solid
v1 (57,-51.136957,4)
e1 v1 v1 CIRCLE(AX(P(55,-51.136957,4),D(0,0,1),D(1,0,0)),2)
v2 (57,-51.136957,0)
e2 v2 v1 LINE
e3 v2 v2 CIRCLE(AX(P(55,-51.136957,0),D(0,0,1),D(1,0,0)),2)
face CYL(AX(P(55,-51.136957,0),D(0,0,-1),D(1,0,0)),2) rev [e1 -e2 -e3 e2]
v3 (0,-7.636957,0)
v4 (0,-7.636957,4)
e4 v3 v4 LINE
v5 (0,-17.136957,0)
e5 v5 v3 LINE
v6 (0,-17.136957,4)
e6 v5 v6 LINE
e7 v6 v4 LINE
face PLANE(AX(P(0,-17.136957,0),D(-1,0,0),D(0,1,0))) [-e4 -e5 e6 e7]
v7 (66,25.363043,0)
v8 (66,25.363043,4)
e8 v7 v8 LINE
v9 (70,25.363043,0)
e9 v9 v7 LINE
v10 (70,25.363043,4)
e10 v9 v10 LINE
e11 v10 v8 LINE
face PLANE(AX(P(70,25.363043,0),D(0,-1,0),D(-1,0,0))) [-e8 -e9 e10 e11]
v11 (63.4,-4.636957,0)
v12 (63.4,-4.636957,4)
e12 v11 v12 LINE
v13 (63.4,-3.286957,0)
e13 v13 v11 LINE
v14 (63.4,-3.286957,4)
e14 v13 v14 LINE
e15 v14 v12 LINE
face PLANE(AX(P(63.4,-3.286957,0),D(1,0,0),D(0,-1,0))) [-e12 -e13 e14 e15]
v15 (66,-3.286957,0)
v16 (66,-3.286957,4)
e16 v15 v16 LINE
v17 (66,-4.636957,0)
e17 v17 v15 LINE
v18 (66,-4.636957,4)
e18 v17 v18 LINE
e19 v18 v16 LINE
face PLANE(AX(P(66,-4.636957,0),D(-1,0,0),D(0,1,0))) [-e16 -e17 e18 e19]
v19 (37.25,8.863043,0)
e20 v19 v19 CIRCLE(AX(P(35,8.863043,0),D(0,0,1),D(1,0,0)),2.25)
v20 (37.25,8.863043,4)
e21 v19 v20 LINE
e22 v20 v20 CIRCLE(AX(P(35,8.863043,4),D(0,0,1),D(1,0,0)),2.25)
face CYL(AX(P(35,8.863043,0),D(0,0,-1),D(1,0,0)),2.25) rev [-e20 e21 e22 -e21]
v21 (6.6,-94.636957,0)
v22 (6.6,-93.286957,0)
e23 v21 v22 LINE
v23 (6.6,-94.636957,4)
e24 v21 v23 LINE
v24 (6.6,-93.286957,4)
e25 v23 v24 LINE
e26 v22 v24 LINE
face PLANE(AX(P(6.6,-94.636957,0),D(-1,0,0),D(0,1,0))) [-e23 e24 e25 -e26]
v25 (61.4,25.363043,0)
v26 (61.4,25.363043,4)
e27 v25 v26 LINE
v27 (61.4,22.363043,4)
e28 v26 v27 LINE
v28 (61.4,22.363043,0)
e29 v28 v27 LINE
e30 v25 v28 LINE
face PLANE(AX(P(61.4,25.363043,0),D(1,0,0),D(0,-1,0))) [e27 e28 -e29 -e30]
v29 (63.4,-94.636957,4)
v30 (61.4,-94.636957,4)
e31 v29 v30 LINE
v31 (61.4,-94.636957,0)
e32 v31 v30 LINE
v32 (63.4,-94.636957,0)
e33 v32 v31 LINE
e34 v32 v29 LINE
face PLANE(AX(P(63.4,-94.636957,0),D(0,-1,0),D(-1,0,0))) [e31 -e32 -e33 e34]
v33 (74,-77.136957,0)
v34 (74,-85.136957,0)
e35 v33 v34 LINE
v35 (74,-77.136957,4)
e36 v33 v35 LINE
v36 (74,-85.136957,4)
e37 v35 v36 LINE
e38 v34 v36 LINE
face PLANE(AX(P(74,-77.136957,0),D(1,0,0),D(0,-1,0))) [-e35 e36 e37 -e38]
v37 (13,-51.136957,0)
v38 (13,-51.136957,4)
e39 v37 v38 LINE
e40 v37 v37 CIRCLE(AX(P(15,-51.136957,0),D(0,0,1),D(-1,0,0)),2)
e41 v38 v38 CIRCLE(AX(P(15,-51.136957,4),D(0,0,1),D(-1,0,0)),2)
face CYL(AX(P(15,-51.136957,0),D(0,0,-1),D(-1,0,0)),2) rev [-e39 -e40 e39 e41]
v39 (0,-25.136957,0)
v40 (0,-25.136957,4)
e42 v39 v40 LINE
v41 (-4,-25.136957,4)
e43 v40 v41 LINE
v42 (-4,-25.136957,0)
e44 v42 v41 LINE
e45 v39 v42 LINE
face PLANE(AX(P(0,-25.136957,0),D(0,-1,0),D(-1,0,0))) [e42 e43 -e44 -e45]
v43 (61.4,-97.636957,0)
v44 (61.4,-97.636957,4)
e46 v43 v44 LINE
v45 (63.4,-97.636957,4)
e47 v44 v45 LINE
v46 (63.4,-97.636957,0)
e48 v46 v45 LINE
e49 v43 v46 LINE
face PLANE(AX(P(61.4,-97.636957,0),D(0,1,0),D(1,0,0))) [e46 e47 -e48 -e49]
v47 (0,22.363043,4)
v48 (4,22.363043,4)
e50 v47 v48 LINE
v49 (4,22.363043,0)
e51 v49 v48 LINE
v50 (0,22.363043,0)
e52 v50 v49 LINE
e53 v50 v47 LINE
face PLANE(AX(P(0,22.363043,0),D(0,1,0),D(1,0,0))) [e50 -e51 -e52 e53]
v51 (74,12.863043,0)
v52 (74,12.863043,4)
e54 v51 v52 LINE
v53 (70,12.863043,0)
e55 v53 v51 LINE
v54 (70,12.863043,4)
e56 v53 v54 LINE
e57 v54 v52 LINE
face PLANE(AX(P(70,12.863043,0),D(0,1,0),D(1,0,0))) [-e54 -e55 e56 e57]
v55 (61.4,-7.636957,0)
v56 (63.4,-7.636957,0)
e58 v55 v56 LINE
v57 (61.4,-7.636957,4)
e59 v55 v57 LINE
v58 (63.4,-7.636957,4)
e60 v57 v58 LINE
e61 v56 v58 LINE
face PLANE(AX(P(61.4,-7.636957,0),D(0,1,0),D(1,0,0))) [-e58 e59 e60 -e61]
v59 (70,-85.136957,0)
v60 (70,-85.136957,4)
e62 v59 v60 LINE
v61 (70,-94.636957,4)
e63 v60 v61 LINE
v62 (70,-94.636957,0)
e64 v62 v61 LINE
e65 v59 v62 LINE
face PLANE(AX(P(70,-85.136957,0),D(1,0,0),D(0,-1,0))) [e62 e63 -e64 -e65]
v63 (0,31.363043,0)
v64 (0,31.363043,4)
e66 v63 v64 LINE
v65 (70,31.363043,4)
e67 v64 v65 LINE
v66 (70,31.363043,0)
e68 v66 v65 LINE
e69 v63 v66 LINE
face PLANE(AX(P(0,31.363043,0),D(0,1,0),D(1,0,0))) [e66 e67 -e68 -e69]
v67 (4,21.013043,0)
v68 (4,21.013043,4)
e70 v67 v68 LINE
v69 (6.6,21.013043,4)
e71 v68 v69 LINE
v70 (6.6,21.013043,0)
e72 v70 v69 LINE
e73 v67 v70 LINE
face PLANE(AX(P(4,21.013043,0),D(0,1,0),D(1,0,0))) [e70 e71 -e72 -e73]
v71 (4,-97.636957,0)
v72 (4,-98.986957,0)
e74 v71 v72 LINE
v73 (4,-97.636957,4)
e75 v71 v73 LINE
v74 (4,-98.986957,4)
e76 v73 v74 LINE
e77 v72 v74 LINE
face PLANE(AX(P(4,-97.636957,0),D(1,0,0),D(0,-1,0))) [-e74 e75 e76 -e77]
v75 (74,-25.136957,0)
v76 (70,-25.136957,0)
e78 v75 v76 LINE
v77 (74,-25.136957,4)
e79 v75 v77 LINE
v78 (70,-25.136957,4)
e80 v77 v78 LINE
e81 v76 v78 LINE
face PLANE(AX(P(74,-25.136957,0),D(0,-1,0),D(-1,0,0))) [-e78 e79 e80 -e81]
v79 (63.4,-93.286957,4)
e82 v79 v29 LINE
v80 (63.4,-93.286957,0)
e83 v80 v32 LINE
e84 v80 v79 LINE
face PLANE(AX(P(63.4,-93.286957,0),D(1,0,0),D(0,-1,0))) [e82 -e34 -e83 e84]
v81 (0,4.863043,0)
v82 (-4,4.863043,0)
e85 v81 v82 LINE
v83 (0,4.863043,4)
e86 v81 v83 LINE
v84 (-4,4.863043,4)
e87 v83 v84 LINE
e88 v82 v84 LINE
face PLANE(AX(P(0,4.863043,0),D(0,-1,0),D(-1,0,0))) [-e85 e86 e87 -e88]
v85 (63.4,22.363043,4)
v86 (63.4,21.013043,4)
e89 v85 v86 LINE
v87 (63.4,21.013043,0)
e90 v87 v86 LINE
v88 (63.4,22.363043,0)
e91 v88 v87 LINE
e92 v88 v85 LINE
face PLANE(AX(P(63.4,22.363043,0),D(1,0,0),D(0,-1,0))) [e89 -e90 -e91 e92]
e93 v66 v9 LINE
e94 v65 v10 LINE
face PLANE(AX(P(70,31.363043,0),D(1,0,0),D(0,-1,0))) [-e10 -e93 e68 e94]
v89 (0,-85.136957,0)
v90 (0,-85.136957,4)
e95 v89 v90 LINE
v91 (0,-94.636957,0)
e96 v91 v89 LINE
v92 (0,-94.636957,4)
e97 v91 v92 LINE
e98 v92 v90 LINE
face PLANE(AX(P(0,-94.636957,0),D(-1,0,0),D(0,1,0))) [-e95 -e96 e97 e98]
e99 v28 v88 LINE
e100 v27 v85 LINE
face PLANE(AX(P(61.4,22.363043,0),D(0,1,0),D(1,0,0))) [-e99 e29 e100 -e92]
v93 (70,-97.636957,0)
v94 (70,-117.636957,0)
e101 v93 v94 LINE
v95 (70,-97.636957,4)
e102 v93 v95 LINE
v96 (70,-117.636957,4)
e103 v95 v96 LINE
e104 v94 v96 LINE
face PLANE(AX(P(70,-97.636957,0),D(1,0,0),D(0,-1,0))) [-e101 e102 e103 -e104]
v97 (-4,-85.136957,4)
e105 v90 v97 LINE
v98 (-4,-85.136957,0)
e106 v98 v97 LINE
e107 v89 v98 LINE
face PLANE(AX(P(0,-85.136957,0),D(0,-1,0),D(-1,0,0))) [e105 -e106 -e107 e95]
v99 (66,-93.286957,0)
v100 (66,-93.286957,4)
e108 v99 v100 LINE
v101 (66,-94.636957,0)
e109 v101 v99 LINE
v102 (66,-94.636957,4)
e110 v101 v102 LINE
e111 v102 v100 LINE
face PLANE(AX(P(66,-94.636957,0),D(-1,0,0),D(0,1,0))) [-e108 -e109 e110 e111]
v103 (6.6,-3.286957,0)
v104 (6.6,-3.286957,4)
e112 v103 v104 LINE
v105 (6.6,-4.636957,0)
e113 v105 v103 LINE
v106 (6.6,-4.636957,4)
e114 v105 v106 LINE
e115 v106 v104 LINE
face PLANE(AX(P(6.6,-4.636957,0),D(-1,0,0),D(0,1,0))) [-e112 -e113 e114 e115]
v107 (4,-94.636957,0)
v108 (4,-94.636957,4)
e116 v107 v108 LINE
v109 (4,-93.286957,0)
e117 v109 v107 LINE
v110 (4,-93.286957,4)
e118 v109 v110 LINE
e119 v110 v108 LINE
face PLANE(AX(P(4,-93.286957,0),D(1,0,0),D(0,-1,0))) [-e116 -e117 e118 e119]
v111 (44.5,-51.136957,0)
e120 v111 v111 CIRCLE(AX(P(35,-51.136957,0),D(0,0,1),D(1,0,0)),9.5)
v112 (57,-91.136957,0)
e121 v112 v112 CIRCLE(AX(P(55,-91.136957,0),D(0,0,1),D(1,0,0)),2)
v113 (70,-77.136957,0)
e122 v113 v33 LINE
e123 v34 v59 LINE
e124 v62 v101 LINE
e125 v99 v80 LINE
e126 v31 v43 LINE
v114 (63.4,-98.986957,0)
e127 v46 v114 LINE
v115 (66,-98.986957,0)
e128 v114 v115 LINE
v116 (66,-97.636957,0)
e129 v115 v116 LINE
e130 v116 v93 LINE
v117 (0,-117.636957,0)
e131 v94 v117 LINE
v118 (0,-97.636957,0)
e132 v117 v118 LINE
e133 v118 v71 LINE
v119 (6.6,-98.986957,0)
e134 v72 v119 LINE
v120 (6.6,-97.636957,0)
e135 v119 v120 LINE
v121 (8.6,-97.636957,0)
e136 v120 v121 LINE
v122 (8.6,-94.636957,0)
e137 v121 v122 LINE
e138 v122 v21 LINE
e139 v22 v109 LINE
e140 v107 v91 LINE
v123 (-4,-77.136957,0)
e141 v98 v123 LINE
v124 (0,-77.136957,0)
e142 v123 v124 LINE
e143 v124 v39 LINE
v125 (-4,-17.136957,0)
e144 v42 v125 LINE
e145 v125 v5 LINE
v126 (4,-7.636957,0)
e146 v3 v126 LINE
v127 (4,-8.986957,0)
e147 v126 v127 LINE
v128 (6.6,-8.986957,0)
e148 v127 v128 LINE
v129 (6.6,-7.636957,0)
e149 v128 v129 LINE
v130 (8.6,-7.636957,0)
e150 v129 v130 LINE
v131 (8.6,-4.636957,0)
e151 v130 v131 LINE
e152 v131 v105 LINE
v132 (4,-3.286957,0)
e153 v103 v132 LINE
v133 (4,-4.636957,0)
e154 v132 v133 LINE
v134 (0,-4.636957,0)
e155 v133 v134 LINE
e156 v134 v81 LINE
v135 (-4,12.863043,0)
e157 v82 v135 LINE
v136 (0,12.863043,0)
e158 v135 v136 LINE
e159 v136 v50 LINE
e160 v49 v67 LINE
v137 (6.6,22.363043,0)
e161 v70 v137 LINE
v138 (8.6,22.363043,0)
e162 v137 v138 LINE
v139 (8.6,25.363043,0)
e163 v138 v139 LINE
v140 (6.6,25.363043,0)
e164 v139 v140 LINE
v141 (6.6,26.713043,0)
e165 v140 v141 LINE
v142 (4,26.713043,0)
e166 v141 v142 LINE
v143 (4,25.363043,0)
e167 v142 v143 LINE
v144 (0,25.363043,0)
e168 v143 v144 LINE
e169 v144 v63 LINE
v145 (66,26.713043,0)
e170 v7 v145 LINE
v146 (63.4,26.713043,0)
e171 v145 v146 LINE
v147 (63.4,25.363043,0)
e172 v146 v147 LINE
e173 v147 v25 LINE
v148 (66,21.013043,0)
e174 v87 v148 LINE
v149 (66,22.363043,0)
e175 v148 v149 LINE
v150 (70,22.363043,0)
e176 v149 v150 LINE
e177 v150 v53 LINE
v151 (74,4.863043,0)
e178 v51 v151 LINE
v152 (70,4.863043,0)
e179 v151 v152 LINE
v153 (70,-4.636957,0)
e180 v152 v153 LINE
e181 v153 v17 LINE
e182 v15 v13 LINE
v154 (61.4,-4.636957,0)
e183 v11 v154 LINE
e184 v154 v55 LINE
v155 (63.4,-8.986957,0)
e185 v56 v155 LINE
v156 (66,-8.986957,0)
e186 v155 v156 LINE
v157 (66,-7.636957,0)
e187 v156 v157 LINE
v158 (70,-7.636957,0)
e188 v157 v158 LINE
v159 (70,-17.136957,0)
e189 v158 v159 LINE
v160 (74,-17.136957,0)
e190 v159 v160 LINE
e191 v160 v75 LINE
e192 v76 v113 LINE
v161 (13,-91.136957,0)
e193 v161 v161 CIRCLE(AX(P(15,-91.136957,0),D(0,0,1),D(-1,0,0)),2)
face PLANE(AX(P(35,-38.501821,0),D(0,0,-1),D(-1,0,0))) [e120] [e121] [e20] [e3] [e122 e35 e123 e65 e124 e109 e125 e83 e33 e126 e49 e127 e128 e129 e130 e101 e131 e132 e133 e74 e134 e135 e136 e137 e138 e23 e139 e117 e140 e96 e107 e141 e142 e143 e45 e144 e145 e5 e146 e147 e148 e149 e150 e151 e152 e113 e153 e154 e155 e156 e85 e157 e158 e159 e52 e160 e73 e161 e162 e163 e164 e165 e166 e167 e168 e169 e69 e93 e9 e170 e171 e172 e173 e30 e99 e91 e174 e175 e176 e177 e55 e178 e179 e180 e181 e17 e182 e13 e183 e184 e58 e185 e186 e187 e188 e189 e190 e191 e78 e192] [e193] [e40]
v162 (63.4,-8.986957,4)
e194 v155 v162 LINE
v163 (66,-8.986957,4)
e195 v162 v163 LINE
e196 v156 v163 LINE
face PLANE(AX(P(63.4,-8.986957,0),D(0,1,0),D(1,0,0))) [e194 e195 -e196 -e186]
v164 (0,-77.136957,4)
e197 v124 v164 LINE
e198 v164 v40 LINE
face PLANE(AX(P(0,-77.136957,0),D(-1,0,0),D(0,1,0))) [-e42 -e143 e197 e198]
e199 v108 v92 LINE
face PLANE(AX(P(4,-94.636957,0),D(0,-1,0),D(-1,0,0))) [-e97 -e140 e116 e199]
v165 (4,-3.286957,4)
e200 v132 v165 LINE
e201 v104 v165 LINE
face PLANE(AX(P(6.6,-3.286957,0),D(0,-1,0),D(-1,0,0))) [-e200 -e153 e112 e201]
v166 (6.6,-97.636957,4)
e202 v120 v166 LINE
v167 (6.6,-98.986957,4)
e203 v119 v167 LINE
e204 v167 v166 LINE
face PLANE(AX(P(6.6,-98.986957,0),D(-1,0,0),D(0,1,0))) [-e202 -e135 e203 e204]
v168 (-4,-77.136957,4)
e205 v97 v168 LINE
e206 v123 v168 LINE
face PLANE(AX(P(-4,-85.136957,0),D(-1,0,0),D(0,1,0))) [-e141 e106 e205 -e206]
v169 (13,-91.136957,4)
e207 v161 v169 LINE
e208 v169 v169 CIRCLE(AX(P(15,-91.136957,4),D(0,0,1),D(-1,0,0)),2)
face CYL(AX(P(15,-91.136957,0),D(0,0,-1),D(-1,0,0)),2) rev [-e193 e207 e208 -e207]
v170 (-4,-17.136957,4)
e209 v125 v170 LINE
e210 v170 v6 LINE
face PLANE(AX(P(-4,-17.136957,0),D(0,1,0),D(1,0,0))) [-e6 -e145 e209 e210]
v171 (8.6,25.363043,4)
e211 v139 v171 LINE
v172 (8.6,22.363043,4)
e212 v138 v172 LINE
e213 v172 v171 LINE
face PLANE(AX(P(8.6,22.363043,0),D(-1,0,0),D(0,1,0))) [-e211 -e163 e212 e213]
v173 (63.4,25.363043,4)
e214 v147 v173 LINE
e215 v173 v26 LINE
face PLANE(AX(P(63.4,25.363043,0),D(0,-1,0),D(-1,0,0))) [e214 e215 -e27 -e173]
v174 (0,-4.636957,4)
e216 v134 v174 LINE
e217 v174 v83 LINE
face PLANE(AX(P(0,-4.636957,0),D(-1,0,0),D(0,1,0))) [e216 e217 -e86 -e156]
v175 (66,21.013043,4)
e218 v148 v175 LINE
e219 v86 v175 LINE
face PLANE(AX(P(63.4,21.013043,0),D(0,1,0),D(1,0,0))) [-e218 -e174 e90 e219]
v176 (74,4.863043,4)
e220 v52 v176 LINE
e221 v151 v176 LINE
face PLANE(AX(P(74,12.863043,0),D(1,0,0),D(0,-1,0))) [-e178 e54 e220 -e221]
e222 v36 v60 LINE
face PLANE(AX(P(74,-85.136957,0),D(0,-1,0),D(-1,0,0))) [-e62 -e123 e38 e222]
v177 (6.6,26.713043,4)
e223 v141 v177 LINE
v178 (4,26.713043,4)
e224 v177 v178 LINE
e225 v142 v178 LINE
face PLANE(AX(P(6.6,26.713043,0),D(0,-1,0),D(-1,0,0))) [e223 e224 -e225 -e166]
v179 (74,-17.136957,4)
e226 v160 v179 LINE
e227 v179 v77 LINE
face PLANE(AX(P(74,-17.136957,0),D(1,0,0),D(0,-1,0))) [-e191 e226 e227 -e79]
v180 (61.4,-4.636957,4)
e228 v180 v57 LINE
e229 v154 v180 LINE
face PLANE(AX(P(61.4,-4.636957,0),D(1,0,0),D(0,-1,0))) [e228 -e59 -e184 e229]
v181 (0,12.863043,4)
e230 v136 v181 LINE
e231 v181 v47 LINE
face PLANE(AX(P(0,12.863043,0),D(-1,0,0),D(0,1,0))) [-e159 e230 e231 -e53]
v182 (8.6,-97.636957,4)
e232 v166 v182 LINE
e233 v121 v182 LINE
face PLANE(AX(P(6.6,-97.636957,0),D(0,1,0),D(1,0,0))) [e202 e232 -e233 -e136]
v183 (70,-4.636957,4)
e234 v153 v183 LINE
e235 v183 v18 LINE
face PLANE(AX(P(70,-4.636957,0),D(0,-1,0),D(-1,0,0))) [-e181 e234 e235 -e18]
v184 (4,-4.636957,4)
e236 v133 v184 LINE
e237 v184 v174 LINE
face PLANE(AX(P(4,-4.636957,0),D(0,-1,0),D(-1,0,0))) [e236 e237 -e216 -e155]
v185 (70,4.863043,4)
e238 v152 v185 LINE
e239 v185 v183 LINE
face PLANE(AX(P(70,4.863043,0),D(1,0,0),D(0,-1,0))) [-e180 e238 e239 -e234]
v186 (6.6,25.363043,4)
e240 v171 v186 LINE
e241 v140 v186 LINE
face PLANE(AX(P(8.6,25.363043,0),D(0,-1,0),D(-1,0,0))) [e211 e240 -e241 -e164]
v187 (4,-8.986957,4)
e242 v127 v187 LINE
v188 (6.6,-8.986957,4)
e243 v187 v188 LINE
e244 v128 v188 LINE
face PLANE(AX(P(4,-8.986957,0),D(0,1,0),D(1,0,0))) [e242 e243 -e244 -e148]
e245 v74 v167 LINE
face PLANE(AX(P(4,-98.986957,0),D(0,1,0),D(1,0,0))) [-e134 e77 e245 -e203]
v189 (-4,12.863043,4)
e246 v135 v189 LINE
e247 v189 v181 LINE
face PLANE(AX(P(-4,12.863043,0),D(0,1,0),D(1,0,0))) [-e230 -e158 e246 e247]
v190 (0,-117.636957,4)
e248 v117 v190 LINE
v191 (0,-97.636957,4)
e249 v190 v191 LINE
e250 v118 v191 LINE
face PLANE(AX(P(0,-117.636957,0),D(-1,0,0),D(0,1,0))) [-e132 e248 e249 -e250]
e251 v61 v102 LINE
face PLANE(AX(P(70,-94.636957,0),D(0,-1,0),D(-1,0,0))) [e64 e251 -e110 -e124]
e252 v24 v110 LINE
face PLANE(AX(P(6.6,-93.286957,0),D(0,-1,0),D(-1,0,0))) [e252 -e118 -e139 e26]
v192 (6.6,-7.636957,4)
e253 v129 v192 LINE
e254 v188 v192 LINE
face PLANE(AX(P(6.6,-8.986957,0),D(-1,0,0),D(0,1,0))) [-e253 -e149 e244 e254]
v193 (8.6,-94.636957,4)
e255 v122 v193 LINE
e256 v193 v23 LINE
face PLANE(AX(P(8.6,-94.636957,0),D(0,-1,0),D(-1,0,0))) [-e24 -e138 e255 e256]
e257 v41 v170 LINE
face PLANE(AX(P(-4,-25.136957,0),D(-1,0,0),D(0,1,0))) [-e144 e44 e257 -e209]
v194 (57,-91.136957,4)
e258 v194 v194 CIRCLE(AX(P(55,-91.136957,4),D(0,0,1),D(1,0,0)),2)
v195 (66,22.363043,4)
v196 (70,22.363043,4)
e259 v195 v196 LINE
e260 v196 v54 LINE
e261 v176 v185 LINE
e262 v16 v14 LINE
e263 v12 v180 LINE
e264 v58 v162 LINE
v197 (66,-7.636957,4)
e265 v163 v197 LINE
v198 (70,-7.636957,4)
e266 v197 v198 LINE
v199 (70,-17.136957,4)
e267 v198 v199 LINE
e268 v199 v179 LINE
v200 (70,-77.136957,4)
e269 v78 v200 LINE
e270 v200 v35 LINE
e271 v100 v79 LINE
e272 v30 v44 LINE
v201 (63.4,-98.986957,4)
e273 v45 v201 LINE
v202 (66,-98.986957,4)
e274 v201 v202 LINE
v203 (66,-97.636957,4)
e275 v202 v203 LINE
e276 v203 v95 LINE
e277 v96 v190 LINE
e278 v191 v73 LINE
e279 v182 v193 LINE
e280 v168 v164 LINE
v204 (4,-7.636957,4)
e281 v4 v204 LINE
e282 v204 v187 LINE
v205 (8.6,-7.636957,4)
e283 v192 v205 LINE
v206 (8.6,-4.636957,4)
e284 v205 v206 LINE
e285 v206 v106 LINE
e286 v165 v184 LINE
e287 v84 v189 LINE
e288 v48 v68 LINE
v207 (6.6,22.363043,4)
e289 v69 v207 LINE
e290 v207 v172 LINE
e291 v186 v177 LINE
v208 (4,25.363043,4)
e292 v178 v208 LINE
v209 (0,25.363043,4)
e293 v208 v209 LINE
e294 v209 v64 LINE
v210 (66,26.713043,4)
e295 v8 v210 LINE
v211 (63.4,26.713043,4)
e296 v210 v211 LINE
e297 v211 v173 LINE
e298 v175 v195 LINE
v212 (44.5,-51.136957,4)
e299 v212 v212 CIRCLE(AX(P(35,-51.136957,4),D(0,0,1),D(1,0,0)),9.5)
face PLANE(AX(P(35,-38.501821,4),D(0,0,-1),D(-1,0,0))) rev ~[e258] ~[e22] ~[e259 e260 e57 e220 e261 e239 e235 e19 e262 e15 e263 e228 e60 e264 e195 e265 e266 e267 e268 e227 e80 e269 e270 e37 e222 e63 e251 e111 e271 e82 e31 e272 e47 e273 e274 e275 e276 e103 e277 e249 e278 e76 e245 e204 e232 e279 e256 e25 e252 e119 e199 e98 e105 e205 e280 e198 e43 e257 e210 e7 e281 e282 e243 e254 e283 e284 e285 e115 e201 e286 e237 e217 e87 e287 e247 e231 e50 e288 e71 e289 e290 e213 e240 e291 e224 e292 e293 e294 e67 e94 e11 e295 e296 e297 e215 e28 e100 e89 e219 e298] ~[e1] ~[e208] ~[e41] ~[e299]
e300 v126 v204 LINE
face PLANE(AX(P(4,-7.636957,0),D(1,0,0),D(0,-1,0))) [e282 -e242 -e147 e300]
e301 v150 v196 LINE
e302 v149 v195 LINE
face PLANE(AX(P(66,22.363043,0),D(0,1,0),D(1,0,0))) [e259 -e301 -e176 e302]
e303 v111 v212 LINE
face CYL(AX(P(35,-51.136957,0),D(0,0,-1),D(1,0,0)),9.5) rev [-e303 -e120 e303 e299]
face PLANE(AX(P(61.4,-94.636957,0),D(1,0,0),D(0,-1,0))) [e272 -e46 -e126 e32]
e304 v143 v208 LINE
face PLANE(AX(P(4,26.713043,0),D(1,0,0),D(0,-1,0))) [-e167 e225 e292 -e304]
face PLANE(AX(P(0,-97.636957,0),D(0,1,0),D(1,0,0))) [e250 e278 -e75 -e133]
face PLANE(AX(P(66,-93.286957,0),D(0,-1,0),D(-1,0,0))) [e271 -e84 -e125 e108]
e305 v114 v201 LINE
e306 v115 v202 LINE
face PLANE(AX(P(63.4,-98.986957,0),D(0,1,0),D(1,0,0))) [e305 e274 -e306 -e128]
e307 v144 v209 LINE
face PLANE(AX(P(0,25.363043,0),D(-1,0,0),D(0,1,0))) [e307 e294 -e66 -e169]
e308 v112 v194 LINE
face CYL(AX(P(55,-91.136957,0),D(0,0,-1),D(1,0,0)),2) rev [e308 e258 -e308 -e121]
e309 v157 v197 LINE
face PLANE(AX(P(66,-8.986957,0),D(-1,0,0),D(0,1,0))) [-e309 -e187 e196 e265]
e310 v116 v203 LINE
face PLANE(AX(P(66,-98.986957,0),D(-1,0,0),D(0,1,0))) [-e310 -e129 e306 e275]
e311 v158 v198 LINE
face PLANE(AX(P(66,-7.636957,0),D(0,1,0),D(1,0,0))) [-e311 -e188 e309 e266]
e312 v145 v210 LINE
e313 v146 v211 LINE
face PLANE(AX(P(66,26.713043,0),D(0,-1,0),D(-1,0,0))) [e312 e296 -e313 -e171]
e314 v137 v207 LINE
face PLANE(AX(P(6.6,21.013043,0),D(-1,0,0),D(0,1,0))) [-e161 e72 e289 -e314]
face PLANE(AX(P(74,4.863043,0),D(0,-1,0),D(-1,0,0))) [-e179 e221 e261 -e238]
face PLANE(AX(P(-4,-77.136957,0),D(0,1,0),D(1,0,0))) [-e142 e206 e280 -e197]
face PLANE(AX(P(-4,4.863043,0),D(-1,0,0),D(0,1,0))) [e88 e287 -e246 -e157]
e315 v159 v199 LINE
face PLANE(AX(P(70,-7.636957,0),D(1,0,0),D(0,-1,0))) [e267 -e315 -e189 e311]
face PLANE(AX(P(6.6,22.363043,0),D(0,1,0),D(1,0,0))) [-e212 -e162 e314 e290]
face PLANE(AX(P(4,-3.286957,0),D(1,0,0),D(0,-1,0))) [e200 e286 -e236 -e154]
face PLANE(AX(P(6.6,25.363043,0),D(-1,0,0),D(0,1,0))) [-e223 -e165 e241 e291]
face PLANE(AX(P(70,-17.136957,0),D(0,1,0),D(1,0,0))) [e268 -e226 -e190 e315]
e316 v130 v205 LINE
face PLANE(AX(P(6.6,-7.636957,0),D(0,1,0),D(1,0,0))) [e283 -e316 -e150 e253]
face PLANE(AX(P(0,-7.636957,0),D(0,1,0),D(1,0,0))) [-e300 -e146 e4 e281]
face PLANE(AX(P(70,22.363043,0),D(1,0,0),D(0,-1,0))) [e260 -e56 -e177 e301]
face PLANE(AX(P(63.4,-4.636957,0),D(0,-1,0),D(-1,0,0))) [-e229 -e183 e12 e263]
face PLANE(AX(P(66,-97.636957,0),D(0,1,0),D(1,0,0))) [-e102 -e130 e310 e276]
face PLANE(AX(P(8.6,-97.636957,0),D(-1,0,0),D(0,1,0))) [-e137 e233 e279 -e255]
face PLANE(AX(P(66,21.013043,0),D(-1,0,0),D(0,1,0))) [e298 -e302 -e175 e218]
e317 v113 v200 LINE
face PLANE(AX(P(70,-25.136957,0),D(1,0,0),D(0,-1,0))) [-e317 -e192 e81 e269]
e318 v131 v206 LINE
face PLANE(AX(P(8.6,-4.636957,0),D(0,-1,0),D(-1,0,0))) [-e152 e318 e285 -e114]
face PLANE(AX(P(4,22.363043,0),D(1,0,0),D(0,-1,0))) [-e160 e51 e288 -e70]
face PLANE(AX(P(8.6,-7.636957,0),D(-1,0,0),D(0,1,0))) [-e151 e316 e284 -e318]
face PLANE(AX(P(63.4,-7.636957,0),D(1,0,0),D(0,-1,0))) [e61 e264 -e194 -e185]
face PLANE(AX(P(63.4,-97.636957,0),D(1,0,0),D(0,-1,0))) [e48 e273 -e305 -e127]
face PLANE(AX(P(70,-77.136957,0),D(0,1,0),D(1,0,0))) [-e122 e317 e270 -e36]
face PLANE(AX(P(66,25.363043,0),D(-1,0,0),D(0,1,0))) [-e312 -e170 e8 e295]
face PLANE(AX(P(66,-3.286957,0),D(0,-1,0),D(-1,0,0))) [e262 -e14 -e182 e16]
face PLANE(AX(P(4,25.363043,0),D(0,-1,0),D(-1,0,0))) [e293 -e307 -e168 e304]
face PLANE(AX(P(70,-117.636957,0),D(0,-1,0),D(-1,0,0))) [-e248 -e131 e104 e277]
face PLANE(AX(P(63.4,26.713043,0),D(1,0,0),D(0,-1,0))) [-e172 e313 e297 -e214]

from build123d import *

# Parameters (mm, degrees)
SKETCH_1_R      = 2.25
SKETCH_1_R_2    = 9.5
SKETCH_1_R_3    = 2
EXTRUDE_1_DEPTH = 4


with BuildPart() as part:
    # 草图1 → 凸台-拉伸1 (new body)
    with BuildSketch(Plane.XY):
        Polygon((0, 4.863043478), (-4, 4.863043478), (-4, 12.863043478), (0, 12.863043478), (0, 22.363043478), (4, 22.363043478), (4, 21.013043478), (6.6, 21.013043478), (6.6, 22.363043478), (8.6, 22.363043478), (8.6, 25.363043478), (6.6, 25.363043478), (6.6, 26.713043478), (4, 26.713043478), (4, 25.363043478), (0, 25.363043478), (0, 31.363043478), (70, 31.363043478), (70, 25.363043478), (66, 25.363043478), (66, 26.713043478), (63.4, 26.713043478), (63.4, 25.363043478), (61.4, 25.363043478), (61.4, 22.363043478), (63.4, 22.363043478), (63.4, 21.013043478), (66, 21.013043478), (66, 22.363043478), (70, 22.363043478), (70, 12.863043478), (74, 12.863043478), (74, 4.863043478), (70, 4.863043478), (70, -4.636956522), (66, -4.636956522), (66, -3.286956522), (63.4, -3.286956522), (63.4, -4.636956522), (61.4, -4.636956522), (61.4, -7.636956522), (63.4, -7.636956522), (63.4, -8.986956522), (66, -8.986956522), (66, -7.636956522), (70, -7.636956522), (70, -17.136956522), (74, -17.136956522), (74, -25.136956522), (70, -25.136956522), (70, -77.136956522), (74, -77.136956522), (74, -85.136956522), (70, -85.136956522), (70, -94.636956522), (66, -94.636956522), (66, -93.286956522), (63.4, -93.286956522), (63.4, -94.636956522), (61.4, -94.636956522), (61.4, -97.636956522), (63.4, -97.636956522), (63.4, -98.986956522), (66, -98.986956522), (66, -97.636956522), (70, -97.636956522), (70, -117.636956522), (0, -117.636956522), (0, -97.636956522), (4, -97.636956522), (4, -98.986956522), (6.6, -98.986956522), (6.6, -97.636956522), (8.6, -97.636956522), (8.6, -94.636956522), (6.6, -94.636956522), (6.6, -93.286956522), (4, -93.286956522), (4, -94.636956522), (0, -94.636956522), (0, -85.136956522), (-4, -85.136956522), (-4, -77.136956522), (0, -77.136956522), (0, -25.136956522), (-4, -25.136956522), (-4, -17.136956522), (0, -17.136956522), (0, -7.636956522), (4, -7.636956522), (4, -8.986956522), (6.6, -8.986956522), (6.6, -7.636956522), (8.6, -7.636956522), (8.6, -4.636956522), (6.6, -4.636956522), (6.6, -3.286956522), (4, -3.286956522), (4, -4.636956522), (0, -4.636956522), align=None)
        with Locations((35, 8.863043478)):
            Circle(SKETCH_1_R, mode=Mode.SUBTRACT)
        with Locations((35, -51.136956522)):
            Circle(SKETCH_1_R_2, mode=Mode.SUBTRACT)
        with Locations((55, -51.136956522)):
            Circle(SKETCH_1_R_3, mode=Mode.SUBTRACT)
        with Locations(Location((15, -51.136956522, 0), (0, 0, 180))):
            Circle(SKETCH_1_R_3, mode=Mode.SUBTRACT)
        with Locations((55, -91.136956522)):
            Circle(SKETCH_1_R_3, mode=Mode.SUBTRACT)
        with Locations(Location((15, -91.136956522, 0), (0, 0, 180))):
            Circle(SKETCH_1_R_3, mode=Mode.SUBTRACT)
    extrude(amount=EXTRUDE_1_DEPTH)


solid = part.part
